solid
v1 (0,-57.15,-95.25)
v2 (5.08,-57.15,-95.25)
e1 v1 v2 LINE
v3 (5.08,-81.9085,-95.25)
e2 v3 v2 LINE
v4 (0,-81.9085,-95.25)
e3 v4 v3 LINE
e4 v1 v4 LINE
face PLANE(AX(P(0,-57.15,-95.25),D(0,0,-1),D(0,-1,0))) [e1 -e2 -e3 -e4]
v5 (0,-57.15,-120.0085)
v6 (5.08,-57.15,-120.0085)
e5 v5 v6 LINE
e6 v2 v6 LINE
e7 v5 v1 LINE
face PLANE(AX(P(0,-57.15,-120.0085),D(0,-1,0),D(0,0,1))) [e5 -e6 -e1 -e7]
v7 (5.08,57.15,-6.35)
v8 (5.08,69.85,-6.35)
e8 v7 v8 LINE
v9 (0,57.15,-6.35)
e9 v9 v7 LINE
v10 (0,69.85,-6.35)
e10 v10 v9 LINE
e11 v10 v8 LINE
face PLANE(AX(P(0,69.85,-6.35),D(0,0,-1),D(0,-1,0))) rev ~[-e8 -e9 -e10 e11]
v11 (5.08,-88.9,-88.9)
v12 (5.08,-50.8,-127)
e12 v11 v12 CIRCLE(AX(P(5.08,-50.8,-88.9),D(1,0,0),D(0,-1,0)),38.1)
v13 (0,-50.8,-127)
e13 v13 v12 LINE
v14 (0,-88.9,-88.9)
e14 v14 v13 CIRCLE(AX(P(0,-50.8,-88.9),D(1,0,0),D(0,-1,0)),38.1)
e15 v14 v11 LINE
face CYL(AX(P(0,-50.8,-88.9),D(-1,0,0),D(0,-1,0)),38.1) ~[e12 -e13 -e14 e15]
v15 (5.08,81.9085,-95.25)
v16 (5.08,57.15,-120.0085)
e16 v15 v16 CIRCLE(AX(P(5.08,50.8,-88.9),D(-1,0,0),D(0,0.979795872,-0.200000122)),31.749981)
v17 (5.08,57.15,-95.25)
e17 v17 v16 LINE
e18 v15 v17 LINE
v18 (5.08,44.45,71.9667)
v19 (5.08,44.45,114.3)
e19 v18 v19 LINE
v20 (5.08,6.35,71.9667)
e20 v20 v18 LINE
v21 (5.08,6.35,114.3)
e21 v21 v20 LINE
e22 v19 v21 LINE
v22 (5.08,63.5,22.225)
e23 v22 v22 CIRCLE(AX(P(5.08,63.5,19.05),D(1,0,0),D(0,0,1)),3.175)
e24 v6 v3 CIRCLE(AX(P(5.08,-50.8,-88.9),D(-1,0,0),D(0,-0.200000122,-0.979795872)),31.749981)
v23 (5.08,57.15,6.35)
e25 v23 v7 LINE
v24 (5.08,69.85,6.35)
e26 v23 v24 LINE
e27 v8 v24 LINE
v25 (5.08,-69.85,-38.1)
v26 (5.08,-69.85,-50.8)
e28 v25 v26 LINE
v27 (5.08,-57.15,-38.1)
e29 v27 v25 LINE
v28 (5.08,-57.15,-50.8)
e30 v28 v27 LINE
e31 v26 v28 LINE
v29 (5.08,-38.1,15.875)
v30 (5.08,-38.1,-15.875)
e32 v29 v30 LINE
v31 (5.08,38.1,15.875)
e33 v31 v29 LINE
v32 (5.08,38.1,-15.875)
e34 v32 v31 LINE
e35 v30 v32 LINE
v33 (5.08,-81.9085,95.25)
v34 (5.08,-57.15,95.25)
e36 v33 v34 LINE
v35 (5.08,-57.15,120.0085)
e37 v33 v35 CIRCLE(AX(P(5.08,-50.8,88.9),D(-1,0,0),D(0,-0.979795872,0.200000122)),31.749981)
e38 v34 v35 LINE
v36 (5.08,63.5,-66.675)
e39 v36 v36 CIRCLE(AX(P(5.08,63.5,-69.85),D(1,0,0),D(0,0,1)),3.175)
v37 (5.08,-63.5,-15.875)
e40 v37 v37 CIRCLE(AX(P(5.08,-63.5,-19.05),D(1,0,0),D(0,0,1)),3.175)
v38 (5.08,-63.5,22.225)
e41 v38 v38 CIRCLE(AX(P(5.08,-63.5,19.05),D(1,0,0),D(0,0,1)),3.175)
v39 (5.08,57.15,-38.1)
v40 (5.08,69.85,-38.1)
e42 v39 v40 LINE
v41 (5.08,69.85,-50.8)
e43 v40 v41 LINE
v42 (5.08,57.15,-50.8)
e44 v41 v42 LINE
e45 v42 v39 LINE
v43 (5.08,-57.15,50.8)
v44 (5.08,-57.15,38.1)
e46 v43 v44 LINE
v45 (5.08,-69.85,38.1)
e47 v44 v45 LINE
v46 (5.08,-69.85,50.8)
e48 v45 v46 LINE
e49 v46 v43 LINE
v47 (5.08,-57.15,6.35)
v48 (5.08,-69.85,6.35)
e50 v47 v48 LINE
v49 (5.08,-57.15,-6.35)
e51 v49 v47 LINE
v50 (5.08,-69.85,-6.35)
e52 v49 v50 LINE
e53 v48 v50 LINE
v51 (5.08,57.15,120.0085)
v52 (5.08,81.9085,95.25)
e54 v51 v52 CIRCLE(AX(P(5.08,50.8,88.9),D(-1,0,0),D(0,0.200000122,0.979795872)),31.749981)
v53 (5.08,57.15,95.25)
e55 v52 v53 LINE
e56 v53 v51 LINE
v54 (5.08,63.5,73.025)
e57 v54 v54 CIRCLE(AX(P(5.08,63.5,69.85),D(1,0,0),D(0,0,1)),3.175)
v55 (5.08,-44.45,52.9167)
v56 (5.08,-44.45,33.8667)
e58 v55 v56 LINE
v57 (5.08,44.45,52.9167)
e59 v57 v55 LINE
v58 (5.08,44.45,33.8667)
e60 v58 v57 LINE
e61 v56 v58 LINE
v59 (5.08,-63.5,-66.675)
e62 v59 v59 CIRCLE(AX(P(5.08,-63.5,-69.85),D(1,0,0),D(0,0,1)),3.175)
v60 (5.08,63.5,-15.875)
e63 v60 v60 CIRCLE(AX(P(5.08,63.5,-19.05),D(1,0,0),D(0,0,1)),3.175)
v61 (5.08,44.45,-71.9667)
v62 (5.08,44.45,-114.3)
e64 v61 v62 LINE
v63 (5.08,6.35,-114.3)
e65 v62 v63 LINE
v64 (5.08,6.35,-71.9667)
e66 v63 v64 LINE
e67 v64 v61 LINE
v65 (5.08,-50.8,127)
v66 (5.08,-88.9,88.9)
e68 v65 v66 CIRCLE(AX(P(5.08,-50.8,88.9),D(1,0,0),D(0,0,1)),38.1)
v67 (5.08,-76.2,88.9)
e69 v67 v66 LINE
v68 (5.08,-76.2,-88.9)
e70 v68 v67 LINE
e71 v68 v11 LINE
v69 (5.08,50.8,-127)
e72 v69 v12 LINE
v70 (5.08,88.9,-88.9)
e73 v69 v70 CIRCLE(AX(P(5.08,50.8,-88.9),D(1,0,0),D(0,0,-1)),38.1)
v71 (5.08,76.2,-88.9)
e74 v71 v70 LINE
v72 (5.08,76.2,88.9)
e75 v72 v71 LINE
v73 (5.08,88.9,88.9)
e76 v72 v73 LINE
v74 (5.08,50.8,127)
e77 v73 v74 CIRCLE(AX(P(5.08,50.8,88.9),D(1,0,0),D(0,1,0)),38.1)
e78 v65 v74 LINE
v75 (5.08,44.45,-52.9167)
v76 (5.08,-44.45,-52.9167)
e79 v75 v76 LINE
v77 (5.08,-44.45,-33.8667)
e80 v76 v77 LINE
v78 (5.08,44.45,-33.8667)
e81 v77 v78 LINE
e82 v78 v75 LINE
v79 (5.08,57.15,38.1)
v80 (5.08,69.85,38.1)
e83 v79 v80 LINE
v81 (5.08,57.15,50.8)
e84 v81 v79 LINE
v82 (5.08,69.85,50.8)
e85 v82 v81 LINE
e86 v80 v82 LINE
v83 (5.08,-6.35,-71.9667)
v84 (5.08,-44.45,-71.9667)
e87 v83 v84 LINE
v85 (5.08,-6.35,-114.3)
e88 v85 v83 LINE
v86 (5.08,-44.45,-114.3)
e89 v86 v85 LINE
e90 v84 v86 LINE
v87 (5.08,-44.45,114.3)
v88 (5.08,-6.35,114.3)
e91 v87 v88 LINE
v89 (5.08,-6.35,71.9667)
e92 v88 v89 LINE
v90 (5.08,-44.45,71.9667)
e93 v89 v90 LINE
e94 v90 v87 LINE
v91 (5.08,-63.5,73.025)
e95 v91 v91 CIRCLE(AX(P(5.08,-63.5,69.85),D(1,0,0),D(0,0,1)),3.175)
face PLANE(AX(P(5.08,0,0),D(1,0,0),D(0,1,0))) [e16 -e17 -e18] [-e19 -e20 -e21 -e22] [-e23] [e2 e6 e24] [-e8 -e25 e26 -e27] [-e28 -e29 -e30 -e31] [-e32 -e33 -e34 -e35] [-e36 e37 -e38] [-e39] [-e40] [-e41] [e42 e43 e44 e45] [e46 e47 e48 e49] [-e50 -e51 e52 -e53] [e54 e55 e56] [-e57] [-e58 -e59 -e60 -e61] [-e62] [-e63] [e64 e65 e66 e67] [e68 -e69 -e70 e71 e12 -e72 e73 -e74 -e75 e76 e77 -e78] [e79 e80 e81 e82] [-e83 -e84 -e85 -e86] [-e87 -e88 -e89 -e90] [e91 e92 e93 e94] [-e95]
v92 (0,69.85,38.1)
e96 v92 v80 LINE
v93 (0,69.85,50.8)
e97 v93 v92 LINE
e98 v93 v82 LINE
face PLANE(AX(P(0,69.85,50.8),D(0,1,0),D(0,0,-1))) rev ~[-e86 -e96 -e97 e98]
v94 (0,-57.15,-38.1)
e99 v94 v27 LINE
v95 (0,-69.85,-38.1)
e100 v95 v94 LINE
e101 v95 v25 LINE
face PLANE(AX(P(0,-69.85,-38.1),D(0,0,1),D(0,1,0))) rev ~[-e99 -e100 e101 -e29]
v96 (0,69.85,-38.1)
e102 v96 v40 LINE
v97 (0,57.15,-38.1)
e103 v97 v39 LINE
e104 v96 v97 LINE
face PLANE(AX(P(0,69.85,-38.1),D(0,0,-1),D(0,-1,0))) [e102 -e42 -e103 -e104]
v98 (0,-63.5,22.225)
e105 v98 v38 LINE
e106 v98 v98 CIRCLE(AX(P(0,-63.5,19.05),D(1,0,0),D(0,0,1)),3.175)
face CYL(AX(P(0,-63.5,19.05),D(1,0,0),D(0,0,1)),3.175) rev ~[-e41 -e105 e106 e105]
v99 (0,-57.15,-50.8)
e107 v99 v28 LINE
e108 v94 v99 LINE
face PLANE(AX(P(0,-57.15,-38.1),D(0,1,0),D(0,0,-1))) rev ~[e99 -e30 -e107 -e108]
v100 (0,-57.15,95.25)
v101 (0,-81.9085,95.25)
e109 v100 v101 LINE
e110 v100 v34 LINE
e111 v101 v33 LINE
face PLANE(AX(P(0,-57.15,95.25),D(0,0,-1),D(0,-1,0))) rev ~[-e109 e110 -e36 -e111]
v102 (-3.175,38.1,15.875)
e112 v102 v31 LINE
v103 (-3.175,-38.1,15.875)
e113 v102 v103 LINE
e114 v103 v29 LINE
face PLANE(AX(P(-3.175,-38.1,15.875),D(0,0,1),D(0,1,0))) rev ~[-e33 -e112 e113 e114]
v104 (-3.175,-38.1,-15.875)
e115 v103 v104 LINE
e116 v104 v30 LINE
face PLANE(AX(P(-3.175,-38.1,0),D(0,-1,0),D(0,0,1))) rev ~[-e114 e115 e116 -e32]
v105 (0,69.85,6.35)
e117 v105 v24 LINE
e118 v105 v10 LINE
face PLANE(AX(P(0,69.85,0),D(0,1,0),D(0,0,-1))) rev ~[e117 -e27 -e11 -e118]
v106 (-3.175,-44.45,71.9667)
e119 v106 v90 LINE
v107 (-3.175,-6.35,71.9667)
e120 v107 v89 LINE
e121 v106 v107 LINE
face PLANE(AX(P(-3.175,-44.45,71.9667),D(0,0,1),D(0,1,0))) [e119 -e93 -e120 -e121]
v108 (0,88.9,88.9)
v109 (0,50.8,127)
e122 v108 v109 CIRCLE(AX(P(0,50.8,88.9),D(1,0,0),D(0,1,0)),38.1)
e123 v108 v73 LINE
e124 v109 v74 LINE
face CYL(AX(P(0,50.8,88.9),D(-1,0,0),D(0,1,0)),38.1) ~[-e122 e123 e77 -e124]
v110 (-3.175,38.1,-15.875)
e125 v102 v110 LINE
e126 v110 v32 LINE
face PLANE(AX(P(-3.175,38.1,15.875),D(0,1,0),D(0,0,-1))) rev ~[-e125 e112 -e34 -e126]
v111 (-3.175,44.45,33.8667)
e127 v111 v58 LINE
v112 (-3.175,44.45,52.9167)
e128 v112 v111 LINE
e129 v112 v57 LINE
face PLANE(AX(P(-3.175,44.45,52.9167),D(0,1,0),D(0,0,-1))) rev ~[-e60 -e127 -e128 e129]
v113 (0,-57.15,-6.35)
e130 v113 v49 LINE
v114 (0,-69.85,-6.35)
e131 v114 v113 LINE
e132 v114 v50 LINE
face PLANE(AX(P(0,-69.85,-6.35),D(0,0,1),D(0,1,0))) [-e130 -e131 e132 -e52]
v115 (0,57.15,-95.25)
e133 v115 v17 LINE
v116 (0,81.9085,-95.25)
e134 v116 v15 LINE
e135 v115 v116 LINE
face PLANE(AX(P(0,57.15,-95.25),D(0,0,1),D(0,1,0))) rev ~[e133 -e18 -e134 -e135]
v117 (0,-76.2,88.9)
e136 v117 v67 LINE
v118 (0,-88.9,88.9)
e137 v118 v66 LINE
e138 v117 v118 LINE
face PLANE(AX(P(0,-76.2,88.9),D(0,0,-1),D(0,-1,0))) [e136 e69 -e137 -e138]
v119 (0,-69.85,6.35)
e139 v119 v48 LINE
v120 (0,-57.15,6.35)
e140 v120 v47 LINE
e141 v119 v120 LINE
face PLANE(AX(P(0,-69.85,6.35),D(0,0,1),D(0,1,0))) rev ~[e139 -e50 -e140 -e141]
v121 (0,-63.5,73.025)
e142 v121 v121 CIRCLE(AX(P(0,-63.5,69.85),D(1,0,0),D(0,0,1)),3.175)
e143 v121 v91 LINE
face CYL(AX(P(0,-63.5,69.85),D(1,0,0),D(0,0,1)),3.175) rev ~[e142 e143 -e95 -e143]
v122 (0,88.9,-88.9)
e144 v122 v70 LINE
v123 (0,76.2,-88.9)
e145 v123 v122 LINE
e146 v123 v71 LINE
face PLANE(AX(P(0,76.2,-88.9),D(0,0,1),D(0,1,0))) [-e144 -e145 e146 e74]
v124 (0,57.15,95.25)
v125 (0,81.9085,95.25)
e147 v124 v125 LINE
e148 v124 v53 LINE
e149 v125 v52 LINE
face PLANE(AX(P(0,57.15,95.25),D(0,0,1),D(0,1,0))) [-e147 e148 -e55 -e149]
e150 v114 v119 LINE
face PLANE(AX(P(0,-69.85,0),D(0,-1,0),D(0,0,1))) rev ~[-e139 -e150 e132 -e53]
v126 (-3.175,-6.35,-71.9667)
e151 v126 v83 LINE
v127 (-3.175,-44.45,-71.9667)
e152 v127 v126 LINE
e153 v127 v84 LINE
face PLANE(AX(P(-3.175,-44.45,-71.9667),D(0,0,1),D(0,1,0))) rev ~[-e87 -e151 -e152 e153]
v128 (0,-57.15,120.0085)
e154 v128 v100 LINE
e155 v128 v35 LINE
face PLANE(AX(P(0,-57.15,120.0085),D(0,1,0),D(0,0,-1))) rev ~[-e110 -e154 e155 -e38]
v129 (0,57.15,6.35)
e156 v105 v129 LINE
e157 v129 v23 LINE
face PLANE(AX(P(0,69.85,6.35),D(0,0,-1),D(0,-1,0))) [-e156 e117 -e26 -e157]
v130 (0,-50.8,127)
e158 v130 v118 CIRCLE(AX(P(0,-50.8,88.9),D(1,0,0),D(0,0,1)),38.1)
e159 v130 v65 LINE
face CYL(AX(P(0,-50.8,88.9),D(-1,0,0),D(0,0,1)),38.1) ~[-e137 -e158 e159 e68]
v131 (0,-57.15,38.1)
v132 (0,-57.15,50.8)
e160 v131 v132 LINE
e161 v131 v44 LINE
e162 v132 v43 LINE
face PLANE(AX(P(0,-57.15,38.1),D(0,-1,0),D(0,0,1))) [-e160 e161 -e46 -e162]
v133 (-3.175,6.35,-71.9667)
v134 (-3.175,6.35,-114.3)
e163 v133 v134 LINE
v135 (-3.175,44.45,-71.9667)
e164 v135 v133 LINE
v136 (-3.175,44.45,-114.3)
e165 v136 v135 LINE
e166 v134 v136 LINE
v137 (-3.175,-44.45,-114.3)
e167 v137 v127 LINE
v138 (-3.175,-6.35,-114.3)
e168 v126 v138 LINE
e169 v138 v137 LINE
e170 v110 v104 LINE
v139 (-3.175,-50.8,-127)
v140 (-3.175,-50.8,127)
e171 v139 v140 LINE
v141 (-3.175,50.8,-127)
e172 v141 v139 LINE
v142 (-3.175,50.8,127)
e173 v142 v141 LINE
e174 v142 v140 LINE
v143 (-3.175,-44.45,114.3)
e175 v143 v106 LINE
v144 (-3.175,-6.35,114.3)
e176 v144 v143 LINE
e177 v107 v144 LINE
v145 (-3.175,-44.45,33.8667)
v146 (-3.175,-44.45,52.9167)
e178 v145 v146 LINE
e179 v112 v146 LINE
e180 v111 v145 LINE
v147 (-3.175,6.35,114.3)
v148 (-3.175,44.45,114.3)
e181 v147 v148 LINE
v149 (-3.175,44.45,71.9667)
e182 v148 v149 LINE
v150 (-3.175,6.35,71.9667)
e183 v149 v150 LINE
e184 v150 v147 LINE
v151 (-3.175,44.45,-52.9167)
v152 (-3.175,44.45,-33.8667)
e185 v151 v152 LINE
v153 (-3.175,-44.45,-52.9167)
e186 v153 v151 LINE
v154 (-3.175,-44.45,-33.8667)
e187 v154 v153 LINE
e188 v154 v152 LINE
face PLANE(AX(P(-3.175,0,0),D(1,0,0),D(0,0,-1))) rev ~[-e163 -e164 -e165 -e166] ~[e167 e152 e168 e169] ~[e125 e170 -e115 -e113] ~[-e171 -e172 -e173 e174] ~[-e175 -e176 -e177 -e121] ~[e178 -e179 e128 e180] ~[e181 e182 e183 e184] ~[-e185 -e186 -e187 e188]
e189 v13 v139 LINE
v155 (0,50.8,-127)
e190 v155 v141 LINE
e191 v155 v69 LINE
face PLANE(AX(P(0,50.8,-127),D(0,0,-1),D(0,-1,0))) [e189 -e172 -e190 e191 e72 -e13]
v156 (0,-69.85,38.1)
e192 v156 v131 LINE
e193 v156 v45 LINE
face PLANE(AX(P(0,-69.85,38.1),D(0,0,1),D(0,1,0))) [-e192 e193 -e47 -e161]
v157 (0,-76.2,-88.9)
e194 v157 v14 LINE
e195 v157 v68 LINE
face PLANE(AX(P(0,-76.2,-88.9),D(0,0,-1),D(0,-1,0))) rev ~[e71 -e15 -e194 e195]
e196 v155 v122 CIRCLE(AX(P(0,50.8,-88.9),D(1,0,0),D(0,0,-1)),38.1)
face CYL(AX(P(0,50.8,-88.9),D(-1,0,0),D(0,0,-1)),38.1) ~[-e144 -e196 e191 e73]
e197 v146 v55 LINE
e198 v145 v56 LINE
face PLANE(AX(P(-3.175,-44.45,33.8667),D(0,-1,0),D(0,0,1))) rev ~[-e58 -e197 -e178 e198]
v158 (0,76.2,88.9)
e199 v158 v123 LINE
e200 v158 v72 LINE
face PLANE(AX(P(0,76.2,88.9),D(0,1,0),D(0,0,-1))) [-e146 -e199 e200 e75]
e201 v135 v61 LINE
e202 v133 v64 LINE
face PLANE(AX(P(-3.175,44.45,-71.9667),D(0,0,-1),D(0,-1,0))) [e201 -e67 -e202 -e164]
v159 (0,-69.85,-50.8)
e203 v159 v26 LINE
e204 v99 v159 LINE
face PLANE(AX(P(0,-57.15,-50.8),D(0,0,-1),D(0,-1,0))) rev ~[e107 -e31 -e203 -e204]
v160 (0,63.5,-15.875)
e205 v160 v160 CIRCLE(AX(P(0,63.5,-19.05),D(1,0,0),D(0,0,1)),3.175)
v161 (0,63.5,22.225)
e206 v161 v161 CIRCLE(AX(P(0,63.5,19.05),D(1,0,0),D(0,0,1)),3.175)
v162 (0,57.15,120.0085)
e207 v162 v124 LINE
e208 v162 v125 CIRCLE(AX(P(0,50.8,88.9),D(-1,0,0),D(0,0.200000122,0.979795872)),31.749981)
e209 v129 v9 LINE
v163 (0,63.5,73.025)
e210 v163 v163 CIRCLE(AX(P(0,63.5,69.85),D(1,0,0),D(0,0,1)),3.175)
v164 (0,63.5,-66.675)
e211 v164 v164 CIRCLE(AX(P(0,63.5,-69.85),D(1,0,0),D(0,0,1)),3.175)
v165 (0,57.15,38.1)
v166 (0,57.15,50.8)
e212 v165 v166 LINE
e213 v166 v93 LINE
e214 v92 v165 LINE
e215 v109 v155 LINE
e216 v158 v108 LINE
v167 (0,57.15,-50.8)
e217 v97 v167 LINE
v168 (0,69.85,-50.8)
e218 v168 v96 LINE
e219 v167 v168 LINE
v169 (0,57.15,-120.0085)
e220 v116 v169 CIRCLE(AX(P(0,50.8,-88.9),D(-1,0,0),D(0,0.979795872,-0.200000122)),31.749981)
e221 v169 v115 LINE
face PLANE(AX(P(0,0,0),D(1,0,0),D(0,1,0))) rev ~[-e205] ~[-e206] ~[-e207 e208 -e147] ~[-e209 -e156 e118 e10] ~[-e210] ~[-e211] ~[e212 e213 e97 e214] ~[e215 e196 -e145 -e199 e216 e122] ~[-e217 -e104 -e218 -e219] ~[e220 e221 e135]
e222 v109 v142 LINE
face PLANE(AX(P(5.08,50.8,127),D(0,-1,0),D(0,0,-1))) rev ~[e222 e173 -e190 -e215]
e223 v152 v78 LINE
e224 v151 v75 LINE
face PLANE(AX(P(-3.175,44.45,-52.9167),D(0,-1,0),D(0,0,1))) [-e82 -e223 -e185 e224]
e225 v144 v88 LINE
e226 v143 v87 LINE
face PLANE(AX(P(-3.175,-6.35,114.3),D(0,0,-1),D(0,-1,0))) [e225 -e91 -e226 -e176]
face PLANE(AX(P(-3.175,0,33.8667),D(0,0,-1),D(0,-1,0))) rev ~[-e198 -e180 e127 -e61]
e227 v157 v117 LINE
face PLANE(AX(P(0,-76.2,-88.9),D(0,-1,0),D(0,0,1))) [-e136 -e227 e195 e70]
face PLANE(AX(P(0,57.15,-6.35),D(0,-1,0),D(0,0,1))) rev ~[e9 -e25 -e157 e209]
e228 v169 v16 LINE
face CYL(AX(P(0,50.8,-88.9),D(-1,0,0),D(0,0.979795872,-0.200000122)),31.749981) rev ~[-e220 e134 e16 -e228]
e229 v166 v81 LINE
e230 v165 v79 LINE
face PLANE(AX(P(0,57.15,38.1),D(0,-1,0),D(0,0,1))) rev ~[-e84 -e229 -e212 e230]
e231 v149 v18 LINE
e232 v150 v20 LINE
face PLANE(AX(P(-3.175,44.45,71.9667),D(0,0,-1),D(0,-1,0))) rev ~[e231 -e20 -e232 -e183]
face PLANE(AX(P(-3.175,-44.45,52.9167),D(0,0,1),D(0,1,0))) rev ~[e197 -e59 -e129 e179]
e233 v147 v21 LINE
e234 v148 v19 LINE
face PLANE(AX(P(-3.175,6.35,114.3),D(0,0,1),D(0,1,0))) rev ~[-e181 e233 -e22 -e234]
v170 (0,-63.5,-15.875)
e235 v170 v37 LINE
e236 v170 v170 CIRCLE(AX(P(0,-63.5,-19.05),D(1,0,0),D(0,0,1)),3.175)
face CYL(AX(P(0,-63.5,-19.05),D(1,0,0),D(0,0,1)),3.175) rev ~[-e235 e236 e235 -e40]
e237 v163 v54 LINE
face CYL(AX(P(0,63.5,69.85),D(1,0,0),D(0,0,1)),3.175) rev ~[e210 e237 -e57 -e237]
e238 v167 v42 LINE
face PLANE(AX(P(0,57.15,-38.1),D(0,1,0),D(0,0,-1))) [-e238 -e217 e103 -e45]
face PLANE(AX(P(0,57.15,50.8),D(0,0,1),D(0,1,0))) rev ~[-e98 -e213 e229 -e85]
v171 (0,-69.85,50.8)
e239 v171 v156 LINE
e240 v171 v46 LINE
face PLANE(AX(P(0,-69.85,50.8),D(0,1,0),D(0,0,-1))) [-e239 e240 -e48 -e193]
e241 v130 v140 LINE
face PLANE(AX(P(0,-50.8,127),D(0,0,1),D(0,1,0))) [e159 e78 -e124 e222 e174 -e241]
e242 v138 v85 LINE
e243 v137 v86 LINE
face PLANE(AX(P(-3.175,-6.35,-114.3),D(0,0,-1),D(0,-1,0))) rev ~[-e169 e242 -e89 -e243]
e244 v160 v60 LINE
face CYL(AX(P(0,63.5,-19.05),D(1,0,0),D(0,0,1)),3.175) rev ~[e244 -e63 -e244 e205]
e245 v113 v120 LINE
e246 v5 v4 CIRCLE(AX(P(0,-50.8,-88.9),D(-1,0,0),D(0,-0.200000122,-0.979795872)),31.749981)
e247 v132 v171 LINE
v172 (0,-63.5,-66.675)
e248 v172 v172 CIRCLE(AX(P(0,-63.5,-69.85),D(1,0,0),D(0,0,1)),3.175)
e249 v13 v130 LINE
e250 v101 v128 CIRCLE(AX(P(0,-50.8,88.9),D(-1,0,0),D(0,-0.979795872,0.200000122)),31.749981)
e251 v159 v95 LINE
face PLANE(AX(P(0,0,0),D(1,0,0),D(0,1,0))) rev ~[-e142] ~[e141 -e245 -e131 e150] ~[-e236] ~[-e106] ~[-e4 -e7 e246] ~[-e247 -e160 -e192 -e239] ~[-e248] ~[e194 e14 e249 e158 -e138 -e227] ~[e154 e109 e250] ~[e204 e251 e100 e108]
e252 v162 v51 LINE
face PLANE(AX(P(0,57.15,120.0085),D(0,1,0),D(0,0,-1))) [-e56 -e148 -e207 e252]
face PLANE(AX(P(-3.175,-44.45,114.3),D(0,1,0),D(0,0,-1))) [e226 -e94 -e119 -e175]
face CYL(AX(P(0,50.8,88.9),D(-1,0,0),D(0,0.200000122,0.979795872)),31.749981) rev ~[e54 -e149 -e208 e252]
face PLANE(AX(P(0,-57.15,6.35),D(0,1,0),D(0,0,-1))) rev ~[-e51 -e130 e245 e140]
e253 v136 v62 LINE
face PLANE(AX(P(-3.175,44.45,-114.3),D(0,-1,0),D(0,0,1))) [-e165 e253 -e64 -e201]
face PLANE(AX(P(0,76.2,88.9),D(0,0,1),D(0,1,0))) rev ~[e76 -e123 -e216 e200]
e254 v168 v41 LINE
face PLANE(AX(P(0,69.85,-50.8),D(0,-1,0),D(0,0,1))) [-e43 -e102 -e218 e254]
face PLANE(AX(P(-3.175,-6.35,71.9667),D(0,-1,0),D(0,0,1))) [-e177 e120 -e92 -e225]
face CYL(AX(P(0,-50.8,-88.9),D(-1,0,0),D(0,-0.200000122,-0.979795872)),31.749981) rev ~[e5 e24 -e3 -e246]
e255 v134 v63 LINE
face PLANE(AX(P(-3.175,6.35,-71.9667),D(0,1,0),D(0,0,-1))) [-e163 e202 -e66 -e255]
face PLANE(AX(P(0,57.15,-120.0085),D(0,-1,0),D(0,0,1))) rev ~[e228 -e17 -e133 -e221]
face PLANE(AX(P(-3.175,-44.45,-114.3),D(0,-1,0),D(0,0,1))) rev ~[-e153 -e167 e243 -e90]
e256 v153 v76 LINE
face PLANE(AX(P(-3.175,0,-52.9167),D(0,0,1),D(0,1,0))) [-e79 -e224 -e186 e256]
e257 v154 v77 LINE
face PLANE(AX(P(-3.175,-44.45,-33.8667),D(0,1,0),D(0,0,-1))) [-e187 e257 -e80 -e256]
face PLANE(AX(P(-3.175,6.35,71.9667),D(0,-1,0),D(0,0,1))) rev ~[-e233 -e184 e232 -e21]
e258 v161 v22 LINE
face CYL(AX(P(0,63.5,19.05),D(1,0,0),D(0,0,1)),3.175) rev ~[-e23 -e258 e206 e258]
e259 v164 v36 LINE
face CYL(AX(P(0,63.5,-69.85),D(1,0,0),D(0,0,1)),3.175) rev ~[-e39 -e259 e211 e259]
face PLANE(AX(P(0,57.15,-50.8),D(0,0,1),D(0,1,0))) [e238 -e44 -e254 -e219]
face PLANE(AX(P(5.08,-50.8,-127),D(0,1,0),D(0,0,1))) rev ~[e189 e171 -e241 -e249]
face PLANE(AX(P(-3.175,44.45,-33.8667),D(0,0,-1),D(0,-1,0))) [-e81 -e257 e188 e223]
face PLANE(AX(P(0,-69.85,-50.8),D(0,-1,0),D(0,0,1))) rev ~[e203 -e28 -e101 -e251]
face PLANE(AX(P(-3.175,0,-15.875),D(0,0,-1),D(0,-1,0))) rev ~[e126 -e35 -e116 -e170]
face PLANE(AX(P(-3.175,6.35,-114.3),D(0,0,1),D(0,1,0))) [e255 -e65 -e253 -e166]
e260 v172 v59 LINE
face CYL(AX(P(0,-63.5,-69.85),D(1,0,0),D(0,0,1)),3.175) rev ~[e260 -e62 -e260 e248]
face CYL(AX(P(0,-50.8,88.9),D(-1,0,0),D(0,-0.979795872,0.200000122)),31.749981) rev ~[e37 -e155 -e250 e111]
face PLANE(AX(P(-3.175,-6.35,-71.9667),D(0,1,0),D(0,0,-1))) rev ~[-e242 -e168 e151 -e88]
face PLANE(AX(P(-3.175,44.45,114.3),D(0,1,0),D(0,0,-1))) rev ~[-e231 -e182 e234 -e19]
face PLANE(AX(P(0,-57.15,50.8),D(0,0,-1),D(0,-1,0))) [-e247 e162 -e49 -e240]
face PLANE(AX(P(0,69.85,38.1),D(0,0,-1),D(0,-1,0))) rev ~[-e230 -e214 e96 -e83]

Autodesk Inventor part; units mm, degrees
ref_plane "YZ Plane" through (0, 0, 0) normal (1, 0, 0) x (0, 1, 0)
ref_plane "XZ Plane" through (0, 0, 0) normal (0, 1, 0) x (-1, 0, 0)
ref_plane "XY Plane" through (0, 0, 0) normal (0, 0, 1) x (1, 0, 0)
sketch "Sketch1" plane through (0, 0, 0) normal (1, 0, 0) x (0, 1, 0)
  line L0 (-76.2, 88.9) -> (-76.2, 88.9)
  line L1 (-50.8, 127) -> (50.8, 127)
  line L2 (50.8, -127) -> (-50.8, -127)
  line L3 (-76.2, -88.9) -> (-76.2, 88.9)
  arc A0 (88.9, 88.9) -> (50.8, 127) centre (50.8, 88.9) ccw
  line L4 (76.2, 88.9) -> (88.9, 88.9)
  arc A1 (-50.8, 127) -> (-88.9, 88.9) centre (-50.8, 88.9) ccw
  line L5 (-50.8, 88.9) -> (-88.9, 88.9)
  arc A2 (50.8, -127) -> (88.9, -88.9) centre (50.8, -88.9) ccw
  line L6 (76.2, -88.9) -> (88.9, -88.9)
  line L7 (76.2, 88.9) -> (76.2, -88.9)
  arc A3 (-88.9, -88.9) -> (-50.8, -127) centre (-50.8, -88.9) ccw
  line L8 (-76.2, -88.9) -> (-88.9, -88.9)
  point P0 (0, 0)
  point P1 (-76.2, 117.2981)
  point P2 (-76.2, -117.2981)
  dimension "d62" = 254
  dimension "d64" = 76.2
  dimension "d65" = 127
  dimension "d66" = 76.2
  dimension "d72" = 76.2
  dimension "d73" = 25.4
  dimension "d74" = 76.2
  dimension "d76" = 25.4
  dimension "d77" = 76.2
  dimension "d78" = 25.4
extrude "Extrusion1" add sketch "Sketch1" along normal blind 5.08
sketch "Sketch3" plane through (5.08, 0, 0) normal (1, 0, 0) x (0, 0, -1)
  line L0 (88.9, 76.2) -> (-88.9, 76.2) projected
  line L1 (127, -50.8) -> (127, 50.8) projected
  line L2 (-88.9, -76.2) -> (88.9, -76.2) projected
  point P0 (0, 0)
  point P1 (0, -63.5)
  point P2 (0, 63.5)
  point P3 (0, 63.5)
  point P4 (127, 76.2)
  point P5 (127, -76.2)
  point P6 (-127, -76.2)
  dimension "d68" = 12.7
  dimension "d69" = 127
  dimension "d70" = 127
  dimension "d71" = 12.7
sketch "Sketch4" plane through (5.08, 0, 0) normal (1, 0, 0) x (0, 0, -1)
  line L0 (-127, 50.8) -> (-127, -50.8) projected
  line L1 (-127, 50.8) -> (127, 50.8)
  line L2 (127, 50.8) -> (127, -50.8)
  line L3 (127, -50.8) -> (-127, -50.8)
  line L4 (-127, -50.8) -> (-127, 50.8)
  point P0 (0, 0)
  point P1 (-88.9, 88.9)
  dimension "d79" = 101.6
  dimension "d80" = 38.1
extrude "Extrusion2" add sketch "Sketch4" against normal blind 8.255
sketch "Sketch8" plane through (-3.175, 0, 0) normal (-1, 0, 0) x (0, 0, 1)
  line L0 (-114.3, -44.45) -> (-71.9667, -44.45)
  line L1 (-71.9667, -44.45) -> (-71.9667, -6.35)
  line L2 (-71.9667, -6.35) -> (-114.3, -6.35)
  line L3 (-114.3, -6.35) -> (-114.3, -44.45)
  line L4 (-127, -50.8) -> (127, -50.8) projected
  line L5 (127, 50.8) -> (-127, 50.8) projected
  line L6 (-127, 50.8) -> (-127, -50.8) projected
  line L7 (-127, -50.8) -> (-127, 50.8) projected
  line L8 (-127, 0) -> (127, 0)
  line L9 (127, 50.8) -> (127, -50.8) projected
  line L10 (-114.3, 44.45) -> (-71.9667, 44.45)
  line L11 (-71.9667, 44.45) -> (-71.9667, 6.35)
  line L12 (-71.9667, 6.35) -> (-114.3, 6.35)
  line L13 (-114.3, 6.35) -> (-114.3, 44.45)
  line L14 (-15.875, -38.1) -> (15.875, -38.1)
  line L15 (15.875, -38.1) -> (15.875, 38.1)
  line L16 (15.875, 38.1) -> (-15.875, 38.1)
  line L17 (-15.875, 38.1) -> (-15.875, -38.1)
  line L18 (-52.9167, 44.45) -> (-33.8667, 44.45)
  line L19 (-33.8667, 44.45) -> (-33.8667, -44.45)
  line L20 (-33.8667, -44.45) -> (-52.9167, -44.45)
  line L21 (-52.9167, -44.45) -> (-52.9167, 44.45)
  line L22 (-88.9, 76.2) -> (88.9, 76.2) projected
  line L23 (0, 76.2) -> (0, -76.2)
  line L24 (88.9, -76.2) -> (-88.9, -76.2) projected
  line L25 (114.3, -44.45) -> (71.9667, -44.45)
  line L26 (71.9667, -44.45) -> (71.9667, -6.35)
  line L27 (71.9667, -6.35) -> (114.3, -6.35)
  line L28 (114.3, -6.35) -> (114.3, -44.45)
  line L29 (114.3, 6.35) -> (114.3, 44.45)
  line L30 (71.9667, 6.35) -> (114.3, 6.35)
  line L31 (114.3, 44.45) -> (71.9667, 44.45)
  line L32 (71.9667, 44.45) -> (71.9667, 6.35)
  line L33 (52.9167, 44.45) -> (33.8667, 44.45)
  line L34 (33.8667, 44.45) -> (33.8667, -44.45)
  line L35 (33.8667, -44.45) -> (52.9167, -44.45)
  line L36 (52.9167, -44.45) -> (52.9167, 44.45)
  point P0 (0, 0)
  dimension "d95" = 6.35
  dimension "d96" = 101.6
  dimension "d97" = 44.45
  dimension "d98" = 12.7
  dimension "d99" = 42.3333
  dimension "d100" = 12.7
  dimension "d101" = 12.7
  dimension "d102" = 31.75
  dimension "d105" = 19.05
  dimension "d106" = 6.35
  dimension "d107" = 6.35
  dimension "d128" = 111.125
  dimension "d129" = 160.8667
extrude "Extrusion5" cut sketch "Sketch8" against normal blind 25.4 contours L3 L2 L1 L0 | L23 L8 L15 L14 | L14 L17 L8 L23 | L21 L18 L19 L8 | L8 L19 L20 L21 | L23 L16 L15 L8 | L8 L17 L16 L23 | L36 L35 L34 L8 | L8 L34 L33 L36 | L10 L11 L12 L13 | L25 L26 L27 L28 | L30 L32 L31 L29
sketch "Sketch10" plane through (0, 0, 0) normal (-1, 0, 0) x (0, 0, 1)
  line L0 (-88.9, 76.2) -> (88.9, 76.2) projected
  line L1 (0, 76.2) -> (0, -76.2)
  line L2 (88.9, -76.2) -> (-88.9, -76.2) projected
  line L3 (88.9, 76.2) -> (88.9, 88.9) projected
  line L4 (127, 50.8) -> (127, -50.8) projected
  line L5 (127, 0) -> (-127, 0)
  line L6 (-127, 50.8) -> (-127, -50.8) projected
  point P0 (0, 0)
  point P1 (19.05, 63.5)
  point P2 (69.85, 63.5)
  point P3 (-19.05, 63.5)
  point P4 (-69.85, 63.5)
  point P5 (19.05, -63.5)
  point P6 (69.85, -63.5)
  point P7 (-19.05, -63.5)
  point P8 (-69.85, -63.5)
  dimension "d135" = 12.7
  dimension "d136" = 19.05
  dimension "d137" = 19.05
  dimension "d138" = 12.7
hole "Hole5" at (0, 63.5, 69.85) at (0, 63.5, 19.05) at (0, 63.5, -19.05) at (0, 63.5, -69.85) at (0, -63.5, -69.85) at (0, -63.5, -19.05) at (0, -63.5, 19.05) at (0, -63.5, 69.85) direction (1, 0, 0) diameter 6.35 end through all
sketch "Sketch11" plane through (0, 0, 0) normal (-1, 0, 0) x (0, 0, 1)
  line L0 (50.8, 69.85) -> (38.1, 69.85)
  line L1 (38.1, 69.85) -> (38.1, 57.15)
  line L2 (38.1, 57.15) -> (50.8, 57.15)
  line L3 (50.8, 57.15) -> (50.8, 69.85)
  line L4 (-88.9, 76.2) -> (88.9, 76.2) projected
  line L5 (127, 50.8) -> (-127, 50.8) projected
  line L6 (0, 76.2) -> (0, -76.2)
  line L7 (88.9, -76.2) -> (-88.9, -76.2) projected
  line L8 (0, 69.85) -> (6.35, 69.85)
  line L9 (6.35, 69.85) -> (6.35, 57.15)
  line L10 (6.35, 57.15) -> (0, 57.15)
  circle A0 centre (19.05, 63.5) radius 3.175 projected
  circle A1 centre (69.85, 63.5) radius 3.175 projected
  line L11 (-50.8, 69.85) -> (-38.1, 69.85)
  line L12 (-38.1, 69.85) -> (-38.1, 57.15)
  line L13 (-38.1, 57.15) -> (-50.8, 57.15)
  line L14 (-50.8, 57.15) -> (-50.8, 69.85)
  line L15 (0, 69.85) -> (-6.35, 69.85)
  line L16 (-6.35, 69.85) -> (-6.35, 57.15)
  line L17 (-6.35, 57.15) -> (0, 57.15)
  line L18 (120.0085, -57.15) -> (95.25, -57.15)
  line L19 (95.25, -57.15) -> (95.25, -81.9085)
  arc A2 (95.25, -81.9085) -> (120.0085, -57.15) centre (88.9, -50.8) ccw
  arc A3 (88.9, -88.9) -> (127, -50.8) centre (88.9, -50.8) ccw projected
  line L20 (-127, -50.8) -> (127, -50.8) projected
  line L21 (88.9, -88.9) -> (88.9, -76.2) projected
  line L22 (-120.0085, -57.15) -> (-95.25, -57.15)
  line L23 (-95.25, -57.15) -> (-95.25, -81.9085)
  arc A4 (-120.0085, -57.15) -> (-95.25, -81.9085) centre (-88.9, -50.8) ccw
  line L24 (127, 50.8) -> (127, -50.8) projected
  line L25 (127, 0) -> (-127, 0)
  line L26 (-127, -50.8) -> (-127, 50.8) projected
  line L27 (120.0085, 57.15) -> (95.25, 57.15)
  line L28 (95.25, 57.15) -> (95.25, 81.9085)
  arc A5 (120.0085, 57.15) -> (95.25, 81.9085) centre (88.9, 50.8) ccw
  arc A6 (-95.25, 81.9085) -> (-120.0085, 57.15) centre (-88.9, 50.8) ccw
  line L29 (-120.0085, 57.15) -> (-95.25, 57.15)
  line L30 (-95.25, 57.15) -> (-95.25, 81.9085)
  line L31 (50.8, -69.85) -> (38.1, -69.85)
  line L32 (38.1, -69.85) -> (38.1, -57.15)
  line L33 (38.1, -57.15) -> (50.8, -57.15)
  line L34 (50.8, -57.15) -> (50.8, -69.85)
  line L35 (0, -69.85) -> (6.35, -69.85)
  line L36 (6.35, -69.85) -> (6.35, -57.15)
  line L37 (6.35, -57.15) -> (0, -57.15)
  line L38 (-50.8, -57.15) -> (-50.8, -69.85)
  line L39 (-38.1, -57.15) -> (-50.8, -57.15)
  line L40 (-50.8, -69.85) -> (-38.1, -69.85)
  line L41 (-38.1, -69.85) -> (-38.1, -57.15)
  line L42 (-6.35, -69.85) -> (-6.35, -57.15)
  line L43 (-6.35, -57.15) -> (0, -57.15)
  line L44 (0, -69.85) -> (-6.35, -69.85)
  point P0 (0, 0)
  dimension "d146" = 6.35
  dimension "d147" = 6.35
  dimension "d148" = 12.7
  dimension "d149" = 6.35
  dimension "d152" = 19.05
  dimension "d153" = 50.8
  dimension "d154" = 6.35
  dimension "d155" = 6.35
  dimension "d156" = 6.35
  dimension "d159" = 31.75
extrude "Extrusion6" cut sketch "Sketch11" against normal blind 25.4 contours L3 L2 L1 L0 | L17 L16 L15 L6 | L6 L8 L9 L10 | L37 L36 L35 L6 | L6 L44 L42 L43 | L11 L12 L13 L14 | A2 L19 L18 | L22 L23 A4 | L27 L28 A5 | L30 L29 A6 | L31 L32 L33 L34 | L39 L41 L40 L38
properties part number "Frame 2.1" material "ABS Plastic"
